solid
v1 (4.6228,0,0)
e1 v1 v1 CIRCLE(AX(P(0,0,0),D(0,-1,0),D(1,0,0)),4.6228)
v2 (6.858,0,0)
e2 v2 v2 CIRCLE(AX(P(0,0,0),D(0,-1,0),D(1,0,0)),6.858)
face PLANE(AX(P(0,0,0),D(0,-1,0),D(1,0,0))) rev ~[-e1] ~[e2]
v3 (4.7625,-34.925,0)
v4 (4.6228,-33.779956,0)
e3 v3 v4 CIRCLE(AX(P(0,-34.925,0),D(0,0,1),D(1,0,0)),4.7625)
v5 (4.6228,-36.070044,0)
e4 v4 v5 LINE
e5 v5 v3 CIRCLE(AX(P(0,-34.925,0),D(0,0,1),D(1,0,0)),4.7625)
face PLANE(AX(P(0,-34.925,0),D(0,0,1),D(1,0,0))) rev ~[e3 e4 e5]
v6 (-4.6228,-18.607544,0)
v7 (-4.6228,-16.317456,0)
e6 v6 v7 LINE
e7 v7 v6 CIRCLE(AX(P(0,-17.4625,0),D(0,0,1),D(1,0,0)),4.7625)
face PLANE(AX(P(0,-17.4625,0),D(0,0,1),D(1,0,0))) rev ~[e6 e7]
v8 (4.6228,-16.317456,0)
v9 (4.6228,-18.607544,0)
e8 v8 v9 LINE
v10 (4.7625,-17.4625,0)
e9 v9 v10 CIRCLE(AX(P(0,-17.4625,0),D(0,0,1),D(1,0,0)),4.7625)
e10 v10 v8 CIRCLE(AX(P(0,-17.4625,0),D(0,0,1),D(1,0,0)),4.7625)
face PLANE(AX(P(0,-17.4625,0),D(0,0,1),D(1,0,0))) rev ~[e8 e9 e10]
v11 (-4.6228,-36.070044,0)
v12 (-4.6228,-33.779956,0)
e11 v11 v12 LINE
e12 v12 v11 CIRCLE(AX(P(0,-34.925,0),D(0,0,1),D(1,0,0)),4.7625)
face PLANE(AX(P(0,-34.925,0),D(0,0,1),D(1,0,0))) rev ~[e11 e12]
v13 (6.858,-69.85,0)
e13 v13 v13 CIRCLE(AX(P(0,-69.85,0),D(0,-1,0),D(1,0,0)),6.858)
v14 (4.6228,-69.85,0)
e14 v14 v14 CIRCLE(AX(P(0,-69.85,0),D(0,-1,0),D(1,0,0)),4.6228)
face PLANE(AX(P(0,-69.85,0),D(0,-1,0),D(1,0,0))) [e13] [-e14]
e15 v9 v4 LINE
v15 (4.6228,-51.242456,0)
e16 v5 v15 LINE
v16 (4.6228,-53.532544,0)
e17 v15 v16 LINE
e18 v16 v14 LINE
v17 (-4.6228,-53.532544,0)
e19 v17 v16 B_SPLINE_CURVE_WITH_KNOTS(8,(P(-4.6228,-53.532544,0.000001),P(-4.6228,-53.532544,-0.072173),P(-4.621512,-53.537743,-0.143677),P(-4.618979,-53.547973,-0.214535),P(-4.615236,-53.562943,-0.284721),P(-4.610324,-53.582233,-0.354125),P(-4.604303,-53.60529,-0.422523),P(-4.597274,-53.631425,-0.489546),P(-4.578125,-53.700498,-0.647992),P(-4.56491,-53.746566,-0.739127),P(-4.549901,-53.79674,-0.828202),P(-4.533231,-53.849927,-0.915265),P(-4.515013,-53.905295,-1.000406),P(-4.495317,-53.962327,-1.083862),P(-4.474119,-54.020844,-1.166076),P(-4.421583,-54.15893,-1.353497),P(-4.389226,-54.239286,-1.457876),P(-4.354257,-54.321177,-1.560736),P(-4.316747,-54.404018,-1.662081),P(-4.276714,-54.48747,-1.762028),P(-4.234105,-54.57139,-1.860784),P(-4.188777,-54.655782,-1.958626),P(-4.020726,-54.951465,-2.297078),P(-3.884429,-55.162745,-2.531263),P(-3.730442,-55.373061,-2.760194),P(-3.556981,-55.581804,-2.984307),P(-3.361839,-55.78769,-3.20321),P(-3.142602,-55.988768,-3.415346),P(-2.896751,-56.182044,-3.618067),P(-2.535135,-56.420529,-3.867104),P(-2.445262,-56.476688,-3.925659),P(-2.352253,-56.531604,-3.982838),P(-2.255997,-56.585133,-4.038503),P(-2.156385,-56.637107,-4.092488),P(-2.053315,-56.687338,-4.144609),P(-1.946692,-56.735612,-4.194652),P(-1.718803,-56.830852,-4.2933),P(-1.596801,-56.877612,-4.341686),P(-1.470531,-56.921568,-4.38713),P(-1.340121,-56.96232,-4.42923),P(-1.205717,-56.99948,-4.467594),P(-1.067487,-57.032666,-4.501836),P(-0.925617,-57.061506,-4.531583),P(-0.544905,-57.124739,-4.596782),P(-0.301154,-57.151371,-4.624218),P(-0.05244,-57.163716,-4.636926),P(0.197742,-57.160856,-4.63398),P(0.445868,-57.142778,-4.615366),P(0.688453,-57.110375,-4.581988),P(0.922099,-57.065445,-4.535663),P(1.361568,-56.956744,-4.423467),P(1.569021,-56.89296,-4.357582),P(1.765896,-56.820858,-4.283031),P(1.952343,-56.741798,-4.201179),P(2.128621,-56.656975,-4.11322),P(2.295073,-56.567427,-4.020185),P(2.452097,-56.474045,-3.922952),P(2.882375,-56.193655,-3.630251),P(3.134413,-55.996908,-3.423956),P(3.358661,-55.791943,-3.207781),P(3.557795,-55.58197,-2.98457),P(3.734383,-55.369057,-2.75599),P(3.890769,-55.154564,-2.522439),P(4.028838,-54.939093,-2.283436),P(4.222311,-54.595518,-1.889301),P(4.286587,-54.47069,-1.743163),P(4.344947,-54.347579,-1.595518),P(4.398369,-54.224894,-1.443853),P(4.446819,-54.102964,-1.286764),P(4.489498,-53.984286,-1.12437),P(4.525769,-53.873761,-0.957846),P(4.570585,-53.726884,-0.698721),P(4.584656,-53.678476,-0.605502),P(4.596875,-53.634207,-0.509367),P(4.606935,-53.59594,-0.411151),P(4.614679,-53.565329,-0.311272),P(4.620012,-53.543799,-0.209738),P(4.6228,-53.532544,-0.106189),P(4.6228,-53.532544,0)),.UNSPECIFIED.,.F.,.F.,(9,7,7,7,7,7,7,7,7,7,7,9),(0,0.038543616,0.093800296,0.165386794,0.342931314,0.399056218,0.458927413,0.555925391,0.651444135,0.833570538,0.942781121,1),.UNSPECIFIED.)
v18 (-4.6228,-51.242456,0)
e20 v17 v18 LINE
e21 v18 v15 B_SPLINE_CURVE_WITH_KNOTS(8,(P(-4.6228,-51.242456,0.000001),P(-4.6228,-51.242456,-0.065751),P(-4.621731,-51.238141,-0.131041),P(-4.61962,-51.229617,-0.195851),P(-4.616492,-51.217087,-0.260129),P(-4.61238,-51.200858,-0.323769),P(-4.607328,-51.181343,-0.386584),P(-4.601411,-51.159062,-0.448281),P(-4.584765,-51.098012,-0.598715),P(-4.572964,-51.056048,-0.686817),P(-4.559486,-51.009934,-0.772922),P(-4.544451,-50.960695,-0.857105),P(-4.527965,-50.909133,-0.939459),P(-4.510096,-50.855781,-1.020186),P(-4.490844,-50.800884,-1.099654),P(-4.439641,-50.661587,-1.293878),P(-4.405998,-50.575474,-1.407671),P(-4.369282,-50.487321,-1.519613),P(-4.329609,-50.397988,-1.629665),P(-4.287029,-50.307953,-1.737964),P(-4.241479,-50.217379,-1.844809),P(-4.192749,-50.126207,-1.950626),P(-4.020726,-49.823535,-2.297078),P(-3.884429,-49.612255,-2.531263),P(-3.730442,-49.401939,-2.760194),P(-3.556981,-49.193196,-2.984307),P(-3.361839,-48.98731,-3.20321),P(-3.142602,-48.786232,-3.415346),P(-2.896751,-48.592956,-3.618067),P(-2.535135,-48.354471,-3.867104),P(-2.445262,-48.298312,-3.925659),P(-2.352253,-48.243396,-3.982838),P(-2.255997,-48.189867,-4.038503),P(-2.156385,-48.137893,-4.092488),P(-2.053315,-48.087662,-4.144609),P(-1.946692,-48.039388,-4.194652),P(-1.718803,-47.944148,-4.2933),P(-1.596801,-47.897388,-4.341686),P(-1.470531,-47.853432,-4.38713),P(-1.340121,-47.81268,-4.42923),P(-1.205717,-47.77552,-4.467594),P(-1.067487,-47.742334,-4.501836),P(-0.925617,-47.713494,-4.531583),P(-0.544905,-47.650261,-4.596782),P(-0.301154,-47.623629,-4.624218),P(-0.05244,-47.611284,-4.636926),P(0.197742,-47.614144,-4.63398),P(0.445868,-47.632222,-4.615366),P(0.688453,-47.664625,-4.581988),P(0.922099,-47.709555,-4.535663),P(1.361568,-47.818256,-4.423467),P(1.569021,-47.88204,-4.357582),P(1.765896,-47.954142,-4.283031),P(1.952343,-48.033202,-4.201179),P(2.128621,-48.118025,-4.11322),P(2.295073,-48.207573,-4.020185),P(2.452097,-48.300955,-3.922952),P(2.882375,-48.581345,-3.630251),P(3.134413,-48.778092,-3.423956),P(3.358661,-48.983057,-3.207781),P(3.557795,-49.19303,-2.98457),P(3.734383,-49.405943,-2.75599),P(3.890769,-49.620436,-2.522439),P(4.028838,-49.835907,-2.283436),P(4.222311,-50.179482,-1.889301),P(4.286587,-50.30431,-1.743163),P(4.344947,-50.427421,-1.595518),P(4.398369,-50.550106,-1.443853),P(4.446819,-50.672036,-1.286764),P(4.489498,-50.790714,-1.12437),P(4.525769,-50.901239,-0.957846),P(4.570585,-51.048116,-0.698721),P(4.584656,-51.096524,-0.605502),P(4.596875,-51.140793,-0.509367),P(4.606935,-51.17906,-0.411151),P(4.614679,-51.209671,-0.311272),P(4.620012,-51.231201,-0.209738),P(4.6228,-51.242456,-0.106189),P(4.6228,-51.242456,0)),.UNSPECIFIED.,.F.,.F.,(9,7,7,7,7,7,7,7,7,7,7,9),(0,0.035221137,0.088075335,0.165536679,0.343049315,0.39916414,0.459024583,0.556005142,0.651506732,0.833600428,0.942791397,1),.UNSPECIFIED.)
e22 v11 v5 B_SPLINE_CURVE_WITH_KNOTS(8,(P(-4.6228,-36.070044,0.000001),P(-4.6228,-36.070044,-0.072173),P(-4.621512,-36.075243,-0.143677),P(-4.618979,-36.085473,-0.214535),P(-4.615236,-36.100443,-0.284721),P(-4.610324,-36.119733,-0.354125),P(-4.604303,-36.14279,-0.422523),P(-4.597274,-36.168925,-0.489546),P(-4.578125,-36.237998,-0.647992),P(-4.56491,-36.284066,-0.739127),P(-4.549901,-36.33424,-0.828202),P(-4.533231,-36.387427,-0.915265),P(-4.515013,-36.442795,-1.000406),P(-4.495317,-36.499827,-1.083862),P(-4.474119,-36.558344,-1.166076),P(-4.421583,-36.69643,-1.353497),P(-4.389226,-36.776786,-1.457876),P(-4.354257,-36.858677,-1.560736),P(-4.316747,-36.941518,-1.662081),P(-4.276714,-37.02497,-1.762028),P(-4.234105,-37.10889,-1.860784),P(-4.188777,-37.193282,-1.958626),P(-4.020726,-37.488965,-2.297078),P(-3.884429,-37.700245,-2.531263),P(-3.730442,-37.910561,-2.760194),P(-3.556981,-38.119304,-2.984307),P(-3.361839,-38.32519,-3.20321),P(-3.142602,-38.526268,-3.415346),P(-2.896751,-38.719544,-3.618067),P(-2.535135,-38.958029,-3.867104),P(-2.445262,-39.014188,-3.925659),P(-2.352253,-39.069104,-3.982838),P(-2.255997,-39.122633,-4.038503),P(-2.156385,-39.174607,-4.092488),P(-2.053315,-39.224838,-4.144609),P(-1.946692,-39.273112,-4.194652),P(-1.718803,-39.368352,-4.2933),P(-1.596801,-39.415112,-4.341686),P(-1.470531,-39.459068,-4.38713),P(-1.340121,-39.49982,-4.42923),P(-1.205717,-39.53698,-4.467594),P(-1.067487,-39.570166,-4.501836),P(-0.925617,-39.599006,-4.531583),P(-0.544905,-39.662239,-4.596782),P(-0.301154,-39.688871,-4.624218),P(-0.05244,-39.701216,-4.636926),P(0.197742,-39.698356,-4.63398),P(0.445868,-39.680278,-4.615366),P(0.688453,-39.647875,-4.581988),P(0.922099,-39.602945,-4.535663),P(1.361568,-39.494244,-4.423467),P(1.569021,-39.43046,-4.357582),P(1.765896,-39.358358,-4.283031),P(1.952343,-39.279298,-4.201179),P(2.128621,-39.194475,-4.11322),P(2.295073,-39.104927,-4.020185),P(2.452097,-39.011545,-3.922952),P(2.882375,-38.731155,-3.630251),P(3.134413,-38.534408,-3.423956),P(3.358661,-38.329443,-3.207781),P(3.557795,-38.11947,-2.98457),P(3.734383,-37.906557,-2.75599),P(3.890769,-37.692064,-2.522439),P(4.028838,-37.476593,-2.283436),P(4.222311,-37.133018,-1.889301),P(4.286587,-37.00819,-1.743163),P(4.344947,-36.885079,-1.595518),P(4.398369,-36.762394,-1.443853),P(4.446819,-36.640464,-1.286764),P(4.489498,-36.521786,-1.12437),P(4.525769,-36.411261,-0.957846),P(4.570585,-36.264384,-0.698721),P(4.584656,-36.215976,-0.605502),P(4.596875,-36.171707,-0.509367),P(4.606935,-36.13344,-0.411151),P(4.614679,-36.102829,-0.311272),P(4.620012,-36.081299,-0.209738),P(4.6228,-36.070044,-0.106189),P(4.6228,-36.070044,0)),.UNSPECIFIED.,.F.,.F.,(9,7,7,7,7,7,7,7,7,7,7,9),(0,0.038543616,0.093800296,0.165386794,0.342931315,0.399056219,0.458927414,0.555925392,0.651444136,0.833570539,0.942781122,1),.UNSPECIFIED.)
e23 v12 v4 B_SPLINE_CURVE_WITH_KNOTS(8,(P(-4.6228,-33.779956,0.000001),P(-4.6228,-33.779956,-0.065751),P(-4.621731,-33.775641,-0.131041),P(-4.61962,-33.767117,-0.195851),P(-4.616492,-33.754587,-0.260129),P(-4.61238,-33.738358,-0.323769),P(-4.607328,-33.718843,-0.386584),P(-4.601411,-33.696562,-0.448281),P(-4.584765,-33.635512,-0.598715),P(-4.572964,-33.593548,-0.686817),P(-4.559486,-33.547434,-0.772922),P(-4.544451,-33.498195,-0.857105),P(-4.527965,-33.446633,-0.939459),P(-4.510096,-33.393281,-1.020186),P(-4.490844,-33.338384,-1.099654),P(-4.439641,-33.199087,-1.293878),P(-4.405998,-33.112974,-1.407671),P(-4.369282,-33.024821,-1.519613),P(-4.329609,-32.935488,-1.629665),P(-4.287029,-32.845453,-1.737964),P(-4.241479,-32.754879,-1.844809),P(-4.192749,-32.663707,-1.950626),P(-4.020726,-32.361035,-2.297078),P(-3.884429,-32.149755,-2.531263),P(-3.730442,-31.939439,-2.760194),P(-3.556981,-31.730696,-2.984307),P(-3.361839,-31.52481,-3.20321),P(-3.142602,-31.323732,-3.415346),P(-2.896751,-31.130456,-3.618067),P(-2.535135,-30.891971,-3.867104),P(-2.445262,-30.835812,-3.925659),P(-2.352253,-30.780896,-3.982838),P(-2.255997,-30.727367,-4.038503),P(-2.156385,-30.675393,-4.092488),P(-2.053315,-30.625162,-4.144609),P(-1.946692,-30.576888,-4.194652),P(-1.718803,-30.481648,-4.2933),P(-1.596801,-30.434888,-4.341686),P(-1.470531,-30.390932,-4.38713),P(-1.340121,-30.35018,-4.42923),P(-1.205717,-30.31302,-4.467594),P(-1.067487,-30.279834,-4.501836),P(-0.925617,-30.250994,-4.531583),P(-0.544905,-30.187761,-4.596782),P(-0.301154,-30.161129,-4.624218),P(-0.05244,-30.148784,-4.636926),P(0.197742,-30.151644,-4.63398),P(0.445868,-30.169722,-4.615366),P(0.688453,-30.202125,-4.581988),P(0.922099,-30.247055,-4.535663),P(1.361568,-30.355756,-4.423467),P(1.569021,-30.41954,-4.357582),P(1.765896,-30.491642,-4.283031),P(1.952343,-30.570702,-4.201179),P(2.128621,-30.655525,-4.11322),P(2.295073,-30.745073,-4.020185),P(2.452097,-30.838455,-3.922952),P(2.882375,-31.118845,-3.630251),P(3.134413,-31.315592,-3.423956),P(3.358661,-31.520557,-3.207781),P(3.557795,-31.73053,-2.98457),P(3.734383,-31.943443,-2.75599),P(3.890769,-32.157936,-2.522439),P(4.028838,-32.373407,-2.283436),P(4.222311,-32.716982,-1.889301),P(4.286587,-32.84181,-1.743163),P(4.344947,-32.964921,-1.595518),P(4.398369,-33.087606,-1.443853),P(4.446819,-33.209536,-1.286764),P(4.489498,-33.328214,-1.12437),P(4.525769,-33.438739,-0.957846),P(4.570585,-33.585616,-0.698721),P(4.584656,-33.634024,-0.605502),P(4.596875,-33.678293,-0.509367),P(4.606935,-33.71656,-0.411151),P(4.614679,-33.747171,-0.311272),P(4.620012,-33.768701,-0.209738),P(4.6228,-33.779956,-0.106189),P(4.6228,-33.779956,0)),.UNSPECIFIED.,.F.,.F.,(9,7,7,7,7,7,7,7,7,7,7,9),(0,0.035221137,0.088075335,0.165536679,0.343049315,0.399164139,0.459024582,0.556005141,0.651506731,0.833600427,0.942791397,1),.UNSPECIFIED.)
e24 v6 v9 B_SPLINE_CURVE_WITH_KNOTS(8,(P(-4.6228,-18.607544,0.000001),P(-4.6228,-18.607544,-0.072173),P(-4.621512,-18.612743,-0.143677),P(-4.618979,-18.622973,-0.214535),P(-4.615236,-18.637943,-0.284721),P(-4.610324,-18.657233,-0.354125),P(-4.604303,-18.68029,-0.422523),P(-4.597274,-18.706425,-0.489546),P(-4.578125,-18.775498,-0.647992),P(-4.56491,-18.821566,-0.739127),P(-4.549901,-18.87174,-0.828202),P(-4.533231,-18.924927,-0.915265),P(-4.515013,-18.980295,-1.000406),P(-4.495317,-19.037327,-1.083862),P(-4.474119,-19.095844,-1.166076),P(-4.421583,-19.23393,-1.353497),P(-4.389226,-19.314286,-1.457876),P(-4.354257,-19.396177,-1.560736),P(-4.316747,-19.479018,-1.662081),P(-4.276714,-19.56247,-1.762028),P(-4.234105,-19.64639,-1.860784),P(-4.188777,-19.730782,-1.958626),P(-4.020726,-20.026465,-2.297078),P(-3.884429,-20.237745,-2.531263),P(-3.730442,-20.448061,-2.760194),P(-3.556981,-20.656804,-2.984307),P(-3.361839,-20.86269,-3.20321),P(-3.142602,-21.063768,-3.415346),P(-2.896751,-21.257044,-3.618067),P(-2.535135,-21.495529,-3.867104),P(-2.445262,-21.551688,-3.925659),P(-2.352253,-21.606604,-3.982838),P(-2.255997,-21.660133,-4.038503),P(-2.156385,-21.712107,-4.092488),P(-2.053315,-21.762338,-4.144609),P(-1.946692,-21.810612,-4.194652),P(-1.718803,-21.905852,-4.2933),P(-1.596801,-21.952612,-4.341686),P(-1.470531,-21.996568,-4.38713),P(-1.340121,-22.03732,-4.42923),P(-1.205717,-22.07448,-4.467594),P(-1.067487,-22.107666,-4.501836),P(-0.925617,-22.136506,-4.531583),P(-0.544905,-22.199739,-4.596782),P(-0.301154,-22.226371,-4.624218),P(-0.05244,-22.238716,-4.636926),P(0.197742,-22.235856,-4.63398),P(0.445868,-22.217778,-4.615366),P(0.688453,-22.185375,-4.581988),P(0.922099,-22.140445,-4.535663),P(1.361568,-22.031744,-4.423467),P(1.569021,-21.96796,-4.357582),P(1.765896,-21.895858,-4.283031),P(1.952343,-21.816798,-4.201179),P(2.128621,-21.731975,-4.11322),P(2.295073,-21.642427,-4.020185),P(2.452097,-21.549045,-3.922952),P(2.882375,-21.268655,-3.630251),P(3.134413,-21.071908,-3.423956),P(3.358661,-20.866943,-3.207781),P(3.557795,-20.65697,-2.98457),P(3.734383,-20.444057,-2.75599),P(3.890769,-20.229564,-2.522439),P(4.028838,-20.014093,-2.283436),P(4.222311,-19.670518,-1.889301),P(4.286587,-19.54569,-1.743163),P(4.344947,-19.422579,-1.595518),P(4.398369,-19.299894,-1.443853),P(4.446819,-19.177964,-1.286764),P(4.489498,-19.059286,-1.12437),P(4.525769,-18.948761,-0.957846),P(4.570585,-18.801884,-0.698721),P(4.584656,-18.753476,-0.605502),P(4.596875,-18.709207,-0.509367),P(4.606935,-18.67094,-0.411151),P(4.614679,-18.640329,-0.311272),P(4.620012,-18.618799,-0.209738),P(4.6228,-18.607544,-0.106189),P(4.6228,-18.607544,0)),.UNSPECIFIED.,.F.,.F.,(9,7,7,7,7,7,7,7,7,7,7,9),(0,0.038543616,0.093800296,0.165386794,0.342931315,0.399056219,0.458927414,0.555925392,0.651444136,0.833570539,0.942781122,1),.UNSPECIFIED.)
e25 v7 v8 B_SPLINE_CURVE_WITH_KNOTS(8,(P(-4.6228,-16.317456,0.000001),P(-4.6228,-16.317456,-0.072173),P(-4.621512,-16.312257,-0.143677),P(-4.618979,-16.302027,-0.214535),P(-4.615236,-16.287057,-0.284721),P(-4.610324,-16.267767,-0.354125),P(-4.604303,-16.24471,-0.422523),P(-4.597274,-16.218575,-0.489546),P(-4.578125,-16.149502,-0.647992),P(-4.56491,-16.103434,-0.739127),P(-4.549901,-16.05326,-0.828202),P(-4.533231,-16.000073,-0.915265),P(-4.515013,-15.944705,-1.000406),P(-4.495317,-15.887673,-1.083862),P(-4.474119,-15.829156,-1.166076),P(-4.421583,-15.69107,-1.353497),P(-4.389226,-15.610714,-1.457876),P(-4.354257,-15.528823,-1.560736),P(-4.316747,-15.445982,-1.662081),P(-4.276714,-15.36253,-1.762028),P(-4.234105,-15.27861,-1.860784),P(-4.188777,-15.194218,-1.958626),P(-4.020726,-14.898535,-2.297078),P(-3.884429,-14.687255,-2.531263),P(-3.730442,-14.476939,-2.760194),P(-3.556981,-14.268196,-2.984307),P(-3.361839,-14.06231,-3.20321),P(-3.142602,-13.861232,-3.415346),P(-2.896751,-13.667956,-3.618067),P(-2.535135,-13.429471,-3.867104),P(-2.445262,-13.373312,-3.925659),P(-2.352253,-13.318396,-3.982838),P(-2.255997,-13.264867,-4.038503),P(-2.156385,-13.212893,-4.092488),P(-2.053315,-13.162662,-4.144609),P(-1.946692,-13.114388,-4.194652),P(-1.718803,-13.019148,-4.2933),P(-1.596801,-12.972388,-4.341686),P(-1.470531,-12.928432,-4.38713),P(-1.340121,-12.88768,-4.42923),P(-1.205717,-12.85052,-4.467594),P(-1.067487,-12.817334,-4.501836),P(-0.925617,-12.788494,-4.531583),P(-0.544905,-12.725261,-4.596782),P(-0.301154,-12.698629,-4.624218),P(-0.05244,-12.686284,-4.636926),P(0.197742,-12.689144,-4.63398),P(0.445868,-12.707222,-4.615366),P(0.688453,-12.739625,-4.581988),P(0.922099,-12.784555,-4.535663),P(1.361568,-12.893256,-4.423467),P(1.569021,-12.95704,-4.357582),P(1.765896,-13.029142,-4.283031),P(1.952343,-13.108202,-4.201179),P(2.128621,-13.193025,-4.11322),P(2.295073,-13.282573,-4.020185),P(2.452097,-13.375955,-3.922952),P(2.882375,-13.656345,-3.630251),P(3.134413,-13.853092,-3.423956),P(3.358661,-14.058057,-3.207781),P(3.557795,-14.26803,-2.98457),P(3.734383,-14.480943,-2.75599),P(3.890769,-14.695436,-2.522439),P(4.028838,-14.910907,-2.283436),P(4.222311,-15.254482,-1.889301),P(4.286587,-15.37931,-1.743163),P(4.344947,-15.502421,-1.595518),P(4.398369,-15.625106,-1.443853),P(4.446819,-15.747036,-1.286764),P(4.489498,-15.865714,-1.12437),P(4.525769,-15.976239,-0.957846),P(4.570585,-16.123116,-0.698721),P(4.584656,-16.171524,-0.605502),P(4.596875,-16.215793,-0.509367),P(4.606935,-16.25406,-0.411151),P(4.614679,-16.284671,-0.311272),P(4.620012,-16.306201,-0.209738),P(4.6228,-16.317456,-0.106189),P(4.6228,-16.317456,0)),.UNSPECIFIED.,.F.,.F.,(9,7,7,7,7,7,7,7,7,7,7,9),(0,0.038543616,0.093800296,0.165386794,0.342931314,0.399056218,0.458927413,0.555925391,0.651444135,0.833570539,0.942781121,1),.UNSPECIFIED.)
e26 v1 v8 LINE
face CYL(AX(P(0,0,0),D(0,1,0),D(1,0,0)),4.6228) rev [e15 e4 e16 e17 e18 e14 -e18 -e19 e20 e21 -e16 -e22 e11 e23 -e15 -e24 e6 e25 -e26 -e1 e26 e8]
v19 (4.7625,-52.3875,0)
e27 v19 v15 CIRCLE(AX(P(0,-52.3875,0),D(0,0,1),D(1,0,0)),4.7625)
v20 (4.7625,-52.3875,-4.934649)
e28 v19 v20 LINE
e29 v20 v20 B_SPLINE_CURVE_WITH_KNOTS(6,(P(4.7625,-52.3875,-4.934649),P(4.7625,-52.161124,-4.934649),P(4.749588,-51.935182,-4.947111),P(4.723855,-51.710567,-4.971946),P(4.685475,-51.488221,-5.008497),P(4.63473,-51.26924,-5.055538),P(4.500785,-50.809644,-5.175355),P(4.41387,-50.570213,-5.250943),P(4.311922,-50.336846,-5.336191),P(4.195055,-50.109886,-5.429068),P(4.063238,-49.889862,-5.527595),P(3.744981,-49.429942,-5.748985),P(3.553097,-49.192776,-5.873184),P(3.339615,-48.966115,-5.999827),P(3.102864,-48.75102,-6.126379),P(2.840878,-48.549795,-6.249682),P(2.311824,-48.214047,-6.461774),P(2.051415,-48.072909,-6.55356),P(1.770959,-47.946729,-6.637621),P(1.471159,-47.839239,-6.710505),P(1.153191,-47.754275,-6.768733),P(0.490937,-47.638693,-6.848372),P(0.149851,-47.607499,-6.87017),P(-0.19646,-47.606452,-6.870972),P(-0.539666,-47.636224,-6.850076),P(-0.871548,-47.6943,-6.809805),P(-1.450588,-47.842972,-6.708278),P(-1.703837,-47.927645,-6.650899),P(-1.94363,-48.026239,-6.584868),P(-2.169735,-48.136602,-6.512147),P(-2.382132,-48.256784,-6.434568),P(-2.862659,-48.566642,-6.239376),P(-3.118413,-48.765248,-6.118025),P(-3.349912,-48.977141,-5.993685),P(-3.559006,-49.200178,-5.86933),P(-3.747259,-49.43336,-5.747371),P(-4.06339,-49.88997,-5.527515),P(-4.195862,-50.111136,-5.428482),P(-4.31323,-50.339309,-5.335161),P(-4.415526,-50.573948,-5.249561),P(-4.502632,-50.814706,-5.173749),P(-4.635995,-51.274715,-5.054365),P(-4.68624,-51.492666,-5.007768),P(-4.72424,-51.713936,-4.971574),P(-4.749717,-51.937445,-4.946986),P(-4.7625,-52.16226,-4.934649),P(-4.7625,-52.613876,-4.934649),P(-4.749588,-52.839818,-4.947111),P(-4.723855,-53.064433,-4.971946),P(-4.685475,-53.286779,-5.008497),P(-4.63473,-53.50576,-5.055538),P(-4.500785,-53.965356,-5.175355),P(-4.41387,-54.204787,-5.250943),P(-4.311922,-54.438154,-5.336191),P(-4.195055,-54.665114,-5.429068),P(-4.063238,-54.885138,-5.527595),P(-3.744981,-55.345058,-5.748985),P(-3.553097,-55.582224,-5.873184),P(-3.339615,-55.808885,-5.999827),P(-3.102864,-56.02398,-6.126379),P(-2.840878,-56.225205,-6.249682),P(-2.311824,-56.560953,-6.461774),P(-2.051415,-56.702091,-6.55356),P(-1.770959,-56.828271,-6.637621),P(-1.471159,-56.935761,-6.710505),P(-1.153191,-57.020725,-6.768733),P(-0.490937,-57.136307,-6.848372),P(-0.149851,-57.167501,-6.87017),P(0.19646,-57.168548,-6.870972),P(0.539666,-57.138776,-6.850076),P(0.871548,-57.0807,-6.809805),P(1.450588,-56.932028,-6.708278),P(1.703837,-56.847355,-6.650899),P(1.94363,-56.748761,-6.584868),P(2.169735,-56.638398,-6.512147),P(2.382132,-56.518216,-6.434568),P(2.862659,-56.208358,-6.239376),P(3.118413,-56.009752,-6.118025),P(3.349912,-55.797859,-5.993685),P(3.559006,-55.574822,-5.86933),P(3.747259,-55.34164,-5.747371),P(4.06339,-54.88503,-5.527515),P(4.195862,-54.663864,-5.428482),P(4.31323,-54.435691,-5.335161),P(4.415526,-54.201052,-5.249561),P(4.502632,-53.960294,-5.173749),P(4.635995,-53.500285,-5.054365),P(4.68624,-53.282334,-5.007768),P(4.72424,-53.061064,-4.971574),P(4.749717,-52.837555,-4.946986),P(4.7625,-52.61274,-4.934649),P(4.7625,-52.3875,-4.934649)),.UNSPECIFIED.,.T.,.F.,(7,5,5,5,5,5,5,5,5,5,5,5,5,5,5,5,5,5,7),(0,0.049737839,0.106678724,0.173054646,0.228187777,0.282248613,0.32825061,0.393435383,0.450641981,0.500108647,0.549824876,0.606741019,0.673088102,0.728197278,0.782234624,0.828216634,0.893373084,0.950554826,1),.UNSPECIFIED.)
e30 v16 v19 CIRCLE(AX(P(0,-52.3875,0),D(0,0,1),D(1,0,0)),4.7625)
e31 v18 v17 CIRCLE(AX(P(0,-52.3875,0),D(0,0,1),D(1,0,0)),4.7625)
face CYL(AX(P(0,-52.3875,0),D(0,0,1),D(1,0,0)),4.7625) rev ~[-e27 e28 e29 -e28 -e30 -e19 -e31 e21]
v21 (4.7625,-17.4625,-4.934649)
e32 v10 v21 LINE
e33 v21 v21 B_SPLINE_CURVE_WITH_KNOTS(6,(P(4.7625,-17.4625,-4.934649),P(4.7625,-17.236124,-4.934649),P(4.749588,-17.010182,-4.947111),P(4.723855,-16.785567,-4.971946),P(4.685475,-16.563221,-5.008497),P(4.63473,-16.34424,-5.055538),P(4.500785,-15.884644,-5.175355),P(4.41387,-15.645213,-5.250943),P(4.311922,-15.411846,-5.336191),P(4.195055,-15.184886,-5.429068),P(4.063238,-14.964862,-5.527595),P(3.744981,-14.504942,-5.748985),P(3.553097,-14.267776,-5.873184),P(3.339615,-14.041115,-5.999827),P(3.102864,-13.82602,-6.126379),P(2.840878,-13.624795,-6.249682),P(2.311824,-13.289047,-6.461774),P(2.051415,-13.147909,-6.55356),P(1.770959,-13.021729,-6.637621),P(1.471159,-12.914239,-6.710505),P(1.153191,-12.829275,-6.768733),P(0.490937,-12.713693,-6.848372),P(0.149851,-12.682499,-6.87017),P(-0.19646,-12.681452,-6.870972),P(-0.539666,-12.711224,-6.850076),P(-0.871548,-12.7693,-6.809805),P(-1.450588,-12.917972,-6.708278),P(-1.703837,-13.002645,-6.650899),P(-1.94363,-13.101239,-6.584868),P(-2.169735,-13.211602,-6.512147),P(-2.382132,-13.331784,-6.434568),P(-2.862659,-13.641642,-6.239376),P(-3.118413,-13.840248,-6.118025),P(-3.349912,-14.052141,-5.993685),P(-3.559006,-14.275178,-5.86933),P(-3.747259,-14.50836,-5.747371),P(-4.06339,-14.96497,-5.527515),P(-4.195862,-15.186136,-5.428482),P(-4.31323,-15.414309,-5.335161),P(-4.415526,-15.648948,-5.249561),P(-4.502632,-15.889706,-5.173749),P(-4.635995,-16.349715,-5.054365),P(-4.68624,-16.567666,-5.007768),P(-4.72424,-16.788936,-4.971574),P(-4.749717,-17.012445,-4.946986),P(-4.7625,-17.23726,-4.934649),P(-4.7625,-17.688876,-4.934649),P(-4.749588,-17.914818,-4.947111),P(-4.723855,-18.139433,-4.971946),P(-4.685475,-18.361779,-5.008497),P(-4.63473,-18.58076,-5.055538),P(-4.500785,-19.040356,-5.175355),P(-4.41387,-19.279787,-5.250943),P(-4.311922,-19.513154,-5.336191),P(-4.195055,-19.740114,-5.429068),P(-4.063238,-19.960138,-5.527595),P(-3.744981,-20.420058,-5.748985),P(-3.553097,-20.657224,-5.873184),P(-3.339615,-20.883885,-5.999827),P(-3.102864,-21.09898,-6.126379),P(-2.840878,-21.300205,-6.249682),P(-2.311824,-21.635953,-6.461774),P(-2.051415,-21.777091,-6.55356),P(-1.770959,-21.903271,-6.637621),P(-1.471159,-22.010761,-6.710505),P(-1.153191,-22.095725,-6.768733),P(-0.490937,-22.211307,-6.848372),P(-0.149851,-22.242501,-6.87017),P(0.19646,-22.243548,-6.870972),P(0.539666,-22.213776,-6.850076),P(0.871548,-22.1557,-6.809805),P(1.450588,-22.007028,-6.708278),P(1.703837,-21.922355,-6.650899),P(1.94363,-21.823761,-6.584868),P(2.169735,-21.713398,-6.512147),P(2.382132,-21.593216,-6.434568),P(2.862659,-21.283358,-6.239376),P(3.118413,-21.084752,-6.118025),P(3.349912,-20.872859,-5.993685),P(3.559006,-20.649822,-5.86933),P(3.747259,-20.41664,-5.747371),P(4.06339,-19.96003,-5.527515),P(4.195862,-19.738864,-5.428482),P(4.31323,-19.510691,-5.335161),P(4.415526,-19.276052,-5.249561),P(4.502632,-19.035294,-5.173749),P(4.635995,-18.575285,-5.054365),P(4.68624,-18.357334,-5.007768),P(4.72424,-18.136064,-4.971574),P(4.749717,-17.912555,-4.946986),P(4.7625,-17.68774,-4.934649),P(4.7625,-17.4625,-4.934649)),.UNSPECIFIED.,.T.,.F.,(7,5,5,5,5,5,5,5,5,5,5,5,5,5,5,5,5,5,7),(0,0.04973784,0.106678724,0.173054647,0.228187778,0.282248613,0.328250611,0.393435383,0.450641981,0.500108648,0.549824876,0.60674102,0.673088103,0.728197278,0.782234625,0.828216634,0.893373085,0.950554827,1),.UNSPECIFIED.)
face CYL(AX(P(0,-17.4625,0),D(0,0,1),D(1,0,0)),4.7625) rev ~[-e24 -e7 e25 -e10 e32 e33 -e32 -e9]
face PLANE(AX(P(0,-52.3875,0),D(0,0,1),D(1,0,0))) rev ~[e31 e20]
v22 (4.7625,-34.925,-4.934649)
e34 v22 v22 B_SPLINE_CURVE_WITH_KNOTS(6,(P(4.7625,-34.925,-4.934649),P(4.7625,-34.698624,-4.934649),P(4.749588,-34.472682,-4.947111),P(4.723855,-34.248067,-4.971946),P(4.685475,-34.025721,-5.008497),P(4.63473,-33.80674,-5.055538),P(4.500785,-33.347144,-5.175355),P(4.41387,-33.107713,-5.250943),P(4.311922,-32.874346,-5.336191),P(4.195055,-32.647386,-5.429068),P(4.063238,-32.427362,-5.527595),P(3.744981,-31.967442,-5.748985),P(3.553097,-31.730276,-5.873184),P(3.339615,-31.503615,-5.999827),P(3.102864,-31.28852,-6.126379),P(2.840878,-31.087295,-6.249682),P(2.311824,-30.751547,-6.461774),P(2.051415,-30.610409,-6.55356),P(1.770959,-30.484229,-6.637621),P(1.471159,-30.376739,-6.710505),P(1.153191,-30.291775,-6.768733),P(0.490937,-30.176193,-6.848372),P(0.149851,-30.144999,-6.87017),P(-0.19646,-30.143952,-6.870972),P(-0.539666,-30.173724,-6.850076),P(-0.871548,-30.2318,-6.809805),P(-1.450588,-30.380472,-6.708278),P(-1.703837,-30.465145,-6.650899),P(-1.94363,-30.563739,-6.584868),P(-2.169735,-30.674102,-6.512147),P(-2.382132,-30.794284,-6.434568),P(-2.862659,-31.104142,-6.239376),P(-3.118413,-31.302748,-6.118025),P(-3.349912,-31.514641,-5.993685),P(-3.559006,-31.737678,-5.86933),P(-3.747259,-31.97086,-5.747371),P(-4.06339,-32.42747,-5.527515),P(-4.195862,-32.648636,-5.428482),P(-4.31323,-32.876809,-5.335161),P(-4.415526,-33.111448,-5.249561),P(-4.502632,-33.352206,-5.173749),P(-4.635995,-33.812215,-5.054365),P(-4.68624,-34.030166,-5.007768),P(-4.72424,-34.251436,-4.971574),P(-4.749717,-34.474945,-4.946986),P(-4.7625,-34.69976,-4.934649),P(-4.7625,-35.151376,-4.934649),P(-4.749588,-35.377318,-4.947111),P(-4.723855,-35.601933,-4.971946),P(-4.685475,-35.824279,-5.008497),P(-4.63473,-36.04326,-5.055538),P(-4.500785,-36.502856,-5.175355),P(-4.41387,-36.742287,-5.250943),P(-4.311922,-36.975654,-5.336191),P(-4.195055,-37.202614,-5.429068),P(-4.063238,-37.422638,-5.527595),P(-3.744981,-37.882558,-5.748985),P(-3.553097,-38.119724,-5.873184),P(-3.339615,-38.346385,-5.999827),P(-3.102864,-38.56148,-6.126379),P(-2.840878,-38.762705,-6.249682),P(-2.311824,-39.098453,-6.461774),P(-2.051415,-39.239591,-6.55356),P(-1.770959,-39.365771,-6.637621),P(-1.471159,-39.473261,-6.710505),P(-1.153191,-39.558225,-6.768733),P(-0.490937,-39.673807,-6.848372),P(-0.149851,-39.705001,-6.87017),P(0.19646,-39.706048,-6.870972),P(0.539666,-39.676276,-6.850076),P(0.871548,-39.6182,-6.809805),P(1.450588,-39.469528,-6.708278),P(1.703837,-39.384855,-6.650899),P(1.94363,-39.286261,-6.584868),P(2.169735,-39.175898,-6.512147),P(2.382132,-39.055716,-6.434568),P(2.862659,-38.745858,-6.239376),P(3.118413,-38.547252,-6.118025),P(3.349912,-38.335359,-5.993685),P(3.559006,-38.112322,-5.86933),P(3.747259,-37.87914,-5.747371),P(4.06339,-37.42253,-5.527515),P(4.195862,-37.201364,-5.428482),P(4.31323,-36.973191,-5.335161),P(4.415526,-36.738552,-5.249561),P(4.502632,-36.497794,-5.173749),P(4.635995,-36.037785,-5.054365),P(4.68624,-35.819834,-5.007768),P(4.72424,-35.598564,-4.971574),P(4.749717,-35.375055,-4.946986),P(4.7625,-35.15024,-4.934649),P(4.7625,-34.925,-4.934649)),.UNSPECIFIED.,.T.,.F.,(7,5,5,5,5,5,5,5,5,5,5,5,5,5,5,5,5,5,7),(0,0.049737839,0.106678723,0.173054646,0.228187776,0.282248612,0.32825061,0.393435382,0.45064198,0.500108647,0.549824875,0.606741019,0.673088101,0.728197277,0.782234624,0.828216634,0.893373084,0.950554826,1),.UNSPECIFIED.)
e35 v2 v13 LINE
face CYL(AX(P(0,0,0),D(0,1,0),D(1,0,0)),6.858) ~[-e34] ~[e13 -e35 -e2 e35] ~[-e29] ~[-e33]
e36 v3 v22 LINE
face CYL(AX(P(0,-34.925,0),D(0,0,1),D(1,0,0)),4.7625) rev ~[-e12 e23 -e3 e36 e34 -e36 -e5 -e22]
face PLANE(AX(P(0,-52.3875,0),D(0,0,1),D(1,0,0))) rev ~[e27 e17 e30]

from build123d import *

# Parameters (mm, degrees)
F0_R     = 6.858
F0_R_2   = 4.6228
F1_DEPTH = 69.85
F2_R     = 4.7625
F3_DEPTH = 25.4


with BuildPart() as f1:
    # F0 (on Front) → F1 (new body)
    with BuildSketch(Plane.XZ):
        Circle(F0_R)
        Circle(F0_R_2, mode=Mode.SUBTRACT)
    extrude(amount=F1_DEPTH)

    # F2 (on Top) → F3 (cut)
    with BuildSketch(Plane.XY):
        with Locations((0, -17.4625)):
            Circle(F2_R)
        with Locations((0, -34.925)):
            Circle(F2_R)
        with Locations((0, -52.3875)):
            Circle(F2_R)
    extrude(amount=-F3_DEPTH, mode=Mode.SUBTRACT)


solid = f1.part
